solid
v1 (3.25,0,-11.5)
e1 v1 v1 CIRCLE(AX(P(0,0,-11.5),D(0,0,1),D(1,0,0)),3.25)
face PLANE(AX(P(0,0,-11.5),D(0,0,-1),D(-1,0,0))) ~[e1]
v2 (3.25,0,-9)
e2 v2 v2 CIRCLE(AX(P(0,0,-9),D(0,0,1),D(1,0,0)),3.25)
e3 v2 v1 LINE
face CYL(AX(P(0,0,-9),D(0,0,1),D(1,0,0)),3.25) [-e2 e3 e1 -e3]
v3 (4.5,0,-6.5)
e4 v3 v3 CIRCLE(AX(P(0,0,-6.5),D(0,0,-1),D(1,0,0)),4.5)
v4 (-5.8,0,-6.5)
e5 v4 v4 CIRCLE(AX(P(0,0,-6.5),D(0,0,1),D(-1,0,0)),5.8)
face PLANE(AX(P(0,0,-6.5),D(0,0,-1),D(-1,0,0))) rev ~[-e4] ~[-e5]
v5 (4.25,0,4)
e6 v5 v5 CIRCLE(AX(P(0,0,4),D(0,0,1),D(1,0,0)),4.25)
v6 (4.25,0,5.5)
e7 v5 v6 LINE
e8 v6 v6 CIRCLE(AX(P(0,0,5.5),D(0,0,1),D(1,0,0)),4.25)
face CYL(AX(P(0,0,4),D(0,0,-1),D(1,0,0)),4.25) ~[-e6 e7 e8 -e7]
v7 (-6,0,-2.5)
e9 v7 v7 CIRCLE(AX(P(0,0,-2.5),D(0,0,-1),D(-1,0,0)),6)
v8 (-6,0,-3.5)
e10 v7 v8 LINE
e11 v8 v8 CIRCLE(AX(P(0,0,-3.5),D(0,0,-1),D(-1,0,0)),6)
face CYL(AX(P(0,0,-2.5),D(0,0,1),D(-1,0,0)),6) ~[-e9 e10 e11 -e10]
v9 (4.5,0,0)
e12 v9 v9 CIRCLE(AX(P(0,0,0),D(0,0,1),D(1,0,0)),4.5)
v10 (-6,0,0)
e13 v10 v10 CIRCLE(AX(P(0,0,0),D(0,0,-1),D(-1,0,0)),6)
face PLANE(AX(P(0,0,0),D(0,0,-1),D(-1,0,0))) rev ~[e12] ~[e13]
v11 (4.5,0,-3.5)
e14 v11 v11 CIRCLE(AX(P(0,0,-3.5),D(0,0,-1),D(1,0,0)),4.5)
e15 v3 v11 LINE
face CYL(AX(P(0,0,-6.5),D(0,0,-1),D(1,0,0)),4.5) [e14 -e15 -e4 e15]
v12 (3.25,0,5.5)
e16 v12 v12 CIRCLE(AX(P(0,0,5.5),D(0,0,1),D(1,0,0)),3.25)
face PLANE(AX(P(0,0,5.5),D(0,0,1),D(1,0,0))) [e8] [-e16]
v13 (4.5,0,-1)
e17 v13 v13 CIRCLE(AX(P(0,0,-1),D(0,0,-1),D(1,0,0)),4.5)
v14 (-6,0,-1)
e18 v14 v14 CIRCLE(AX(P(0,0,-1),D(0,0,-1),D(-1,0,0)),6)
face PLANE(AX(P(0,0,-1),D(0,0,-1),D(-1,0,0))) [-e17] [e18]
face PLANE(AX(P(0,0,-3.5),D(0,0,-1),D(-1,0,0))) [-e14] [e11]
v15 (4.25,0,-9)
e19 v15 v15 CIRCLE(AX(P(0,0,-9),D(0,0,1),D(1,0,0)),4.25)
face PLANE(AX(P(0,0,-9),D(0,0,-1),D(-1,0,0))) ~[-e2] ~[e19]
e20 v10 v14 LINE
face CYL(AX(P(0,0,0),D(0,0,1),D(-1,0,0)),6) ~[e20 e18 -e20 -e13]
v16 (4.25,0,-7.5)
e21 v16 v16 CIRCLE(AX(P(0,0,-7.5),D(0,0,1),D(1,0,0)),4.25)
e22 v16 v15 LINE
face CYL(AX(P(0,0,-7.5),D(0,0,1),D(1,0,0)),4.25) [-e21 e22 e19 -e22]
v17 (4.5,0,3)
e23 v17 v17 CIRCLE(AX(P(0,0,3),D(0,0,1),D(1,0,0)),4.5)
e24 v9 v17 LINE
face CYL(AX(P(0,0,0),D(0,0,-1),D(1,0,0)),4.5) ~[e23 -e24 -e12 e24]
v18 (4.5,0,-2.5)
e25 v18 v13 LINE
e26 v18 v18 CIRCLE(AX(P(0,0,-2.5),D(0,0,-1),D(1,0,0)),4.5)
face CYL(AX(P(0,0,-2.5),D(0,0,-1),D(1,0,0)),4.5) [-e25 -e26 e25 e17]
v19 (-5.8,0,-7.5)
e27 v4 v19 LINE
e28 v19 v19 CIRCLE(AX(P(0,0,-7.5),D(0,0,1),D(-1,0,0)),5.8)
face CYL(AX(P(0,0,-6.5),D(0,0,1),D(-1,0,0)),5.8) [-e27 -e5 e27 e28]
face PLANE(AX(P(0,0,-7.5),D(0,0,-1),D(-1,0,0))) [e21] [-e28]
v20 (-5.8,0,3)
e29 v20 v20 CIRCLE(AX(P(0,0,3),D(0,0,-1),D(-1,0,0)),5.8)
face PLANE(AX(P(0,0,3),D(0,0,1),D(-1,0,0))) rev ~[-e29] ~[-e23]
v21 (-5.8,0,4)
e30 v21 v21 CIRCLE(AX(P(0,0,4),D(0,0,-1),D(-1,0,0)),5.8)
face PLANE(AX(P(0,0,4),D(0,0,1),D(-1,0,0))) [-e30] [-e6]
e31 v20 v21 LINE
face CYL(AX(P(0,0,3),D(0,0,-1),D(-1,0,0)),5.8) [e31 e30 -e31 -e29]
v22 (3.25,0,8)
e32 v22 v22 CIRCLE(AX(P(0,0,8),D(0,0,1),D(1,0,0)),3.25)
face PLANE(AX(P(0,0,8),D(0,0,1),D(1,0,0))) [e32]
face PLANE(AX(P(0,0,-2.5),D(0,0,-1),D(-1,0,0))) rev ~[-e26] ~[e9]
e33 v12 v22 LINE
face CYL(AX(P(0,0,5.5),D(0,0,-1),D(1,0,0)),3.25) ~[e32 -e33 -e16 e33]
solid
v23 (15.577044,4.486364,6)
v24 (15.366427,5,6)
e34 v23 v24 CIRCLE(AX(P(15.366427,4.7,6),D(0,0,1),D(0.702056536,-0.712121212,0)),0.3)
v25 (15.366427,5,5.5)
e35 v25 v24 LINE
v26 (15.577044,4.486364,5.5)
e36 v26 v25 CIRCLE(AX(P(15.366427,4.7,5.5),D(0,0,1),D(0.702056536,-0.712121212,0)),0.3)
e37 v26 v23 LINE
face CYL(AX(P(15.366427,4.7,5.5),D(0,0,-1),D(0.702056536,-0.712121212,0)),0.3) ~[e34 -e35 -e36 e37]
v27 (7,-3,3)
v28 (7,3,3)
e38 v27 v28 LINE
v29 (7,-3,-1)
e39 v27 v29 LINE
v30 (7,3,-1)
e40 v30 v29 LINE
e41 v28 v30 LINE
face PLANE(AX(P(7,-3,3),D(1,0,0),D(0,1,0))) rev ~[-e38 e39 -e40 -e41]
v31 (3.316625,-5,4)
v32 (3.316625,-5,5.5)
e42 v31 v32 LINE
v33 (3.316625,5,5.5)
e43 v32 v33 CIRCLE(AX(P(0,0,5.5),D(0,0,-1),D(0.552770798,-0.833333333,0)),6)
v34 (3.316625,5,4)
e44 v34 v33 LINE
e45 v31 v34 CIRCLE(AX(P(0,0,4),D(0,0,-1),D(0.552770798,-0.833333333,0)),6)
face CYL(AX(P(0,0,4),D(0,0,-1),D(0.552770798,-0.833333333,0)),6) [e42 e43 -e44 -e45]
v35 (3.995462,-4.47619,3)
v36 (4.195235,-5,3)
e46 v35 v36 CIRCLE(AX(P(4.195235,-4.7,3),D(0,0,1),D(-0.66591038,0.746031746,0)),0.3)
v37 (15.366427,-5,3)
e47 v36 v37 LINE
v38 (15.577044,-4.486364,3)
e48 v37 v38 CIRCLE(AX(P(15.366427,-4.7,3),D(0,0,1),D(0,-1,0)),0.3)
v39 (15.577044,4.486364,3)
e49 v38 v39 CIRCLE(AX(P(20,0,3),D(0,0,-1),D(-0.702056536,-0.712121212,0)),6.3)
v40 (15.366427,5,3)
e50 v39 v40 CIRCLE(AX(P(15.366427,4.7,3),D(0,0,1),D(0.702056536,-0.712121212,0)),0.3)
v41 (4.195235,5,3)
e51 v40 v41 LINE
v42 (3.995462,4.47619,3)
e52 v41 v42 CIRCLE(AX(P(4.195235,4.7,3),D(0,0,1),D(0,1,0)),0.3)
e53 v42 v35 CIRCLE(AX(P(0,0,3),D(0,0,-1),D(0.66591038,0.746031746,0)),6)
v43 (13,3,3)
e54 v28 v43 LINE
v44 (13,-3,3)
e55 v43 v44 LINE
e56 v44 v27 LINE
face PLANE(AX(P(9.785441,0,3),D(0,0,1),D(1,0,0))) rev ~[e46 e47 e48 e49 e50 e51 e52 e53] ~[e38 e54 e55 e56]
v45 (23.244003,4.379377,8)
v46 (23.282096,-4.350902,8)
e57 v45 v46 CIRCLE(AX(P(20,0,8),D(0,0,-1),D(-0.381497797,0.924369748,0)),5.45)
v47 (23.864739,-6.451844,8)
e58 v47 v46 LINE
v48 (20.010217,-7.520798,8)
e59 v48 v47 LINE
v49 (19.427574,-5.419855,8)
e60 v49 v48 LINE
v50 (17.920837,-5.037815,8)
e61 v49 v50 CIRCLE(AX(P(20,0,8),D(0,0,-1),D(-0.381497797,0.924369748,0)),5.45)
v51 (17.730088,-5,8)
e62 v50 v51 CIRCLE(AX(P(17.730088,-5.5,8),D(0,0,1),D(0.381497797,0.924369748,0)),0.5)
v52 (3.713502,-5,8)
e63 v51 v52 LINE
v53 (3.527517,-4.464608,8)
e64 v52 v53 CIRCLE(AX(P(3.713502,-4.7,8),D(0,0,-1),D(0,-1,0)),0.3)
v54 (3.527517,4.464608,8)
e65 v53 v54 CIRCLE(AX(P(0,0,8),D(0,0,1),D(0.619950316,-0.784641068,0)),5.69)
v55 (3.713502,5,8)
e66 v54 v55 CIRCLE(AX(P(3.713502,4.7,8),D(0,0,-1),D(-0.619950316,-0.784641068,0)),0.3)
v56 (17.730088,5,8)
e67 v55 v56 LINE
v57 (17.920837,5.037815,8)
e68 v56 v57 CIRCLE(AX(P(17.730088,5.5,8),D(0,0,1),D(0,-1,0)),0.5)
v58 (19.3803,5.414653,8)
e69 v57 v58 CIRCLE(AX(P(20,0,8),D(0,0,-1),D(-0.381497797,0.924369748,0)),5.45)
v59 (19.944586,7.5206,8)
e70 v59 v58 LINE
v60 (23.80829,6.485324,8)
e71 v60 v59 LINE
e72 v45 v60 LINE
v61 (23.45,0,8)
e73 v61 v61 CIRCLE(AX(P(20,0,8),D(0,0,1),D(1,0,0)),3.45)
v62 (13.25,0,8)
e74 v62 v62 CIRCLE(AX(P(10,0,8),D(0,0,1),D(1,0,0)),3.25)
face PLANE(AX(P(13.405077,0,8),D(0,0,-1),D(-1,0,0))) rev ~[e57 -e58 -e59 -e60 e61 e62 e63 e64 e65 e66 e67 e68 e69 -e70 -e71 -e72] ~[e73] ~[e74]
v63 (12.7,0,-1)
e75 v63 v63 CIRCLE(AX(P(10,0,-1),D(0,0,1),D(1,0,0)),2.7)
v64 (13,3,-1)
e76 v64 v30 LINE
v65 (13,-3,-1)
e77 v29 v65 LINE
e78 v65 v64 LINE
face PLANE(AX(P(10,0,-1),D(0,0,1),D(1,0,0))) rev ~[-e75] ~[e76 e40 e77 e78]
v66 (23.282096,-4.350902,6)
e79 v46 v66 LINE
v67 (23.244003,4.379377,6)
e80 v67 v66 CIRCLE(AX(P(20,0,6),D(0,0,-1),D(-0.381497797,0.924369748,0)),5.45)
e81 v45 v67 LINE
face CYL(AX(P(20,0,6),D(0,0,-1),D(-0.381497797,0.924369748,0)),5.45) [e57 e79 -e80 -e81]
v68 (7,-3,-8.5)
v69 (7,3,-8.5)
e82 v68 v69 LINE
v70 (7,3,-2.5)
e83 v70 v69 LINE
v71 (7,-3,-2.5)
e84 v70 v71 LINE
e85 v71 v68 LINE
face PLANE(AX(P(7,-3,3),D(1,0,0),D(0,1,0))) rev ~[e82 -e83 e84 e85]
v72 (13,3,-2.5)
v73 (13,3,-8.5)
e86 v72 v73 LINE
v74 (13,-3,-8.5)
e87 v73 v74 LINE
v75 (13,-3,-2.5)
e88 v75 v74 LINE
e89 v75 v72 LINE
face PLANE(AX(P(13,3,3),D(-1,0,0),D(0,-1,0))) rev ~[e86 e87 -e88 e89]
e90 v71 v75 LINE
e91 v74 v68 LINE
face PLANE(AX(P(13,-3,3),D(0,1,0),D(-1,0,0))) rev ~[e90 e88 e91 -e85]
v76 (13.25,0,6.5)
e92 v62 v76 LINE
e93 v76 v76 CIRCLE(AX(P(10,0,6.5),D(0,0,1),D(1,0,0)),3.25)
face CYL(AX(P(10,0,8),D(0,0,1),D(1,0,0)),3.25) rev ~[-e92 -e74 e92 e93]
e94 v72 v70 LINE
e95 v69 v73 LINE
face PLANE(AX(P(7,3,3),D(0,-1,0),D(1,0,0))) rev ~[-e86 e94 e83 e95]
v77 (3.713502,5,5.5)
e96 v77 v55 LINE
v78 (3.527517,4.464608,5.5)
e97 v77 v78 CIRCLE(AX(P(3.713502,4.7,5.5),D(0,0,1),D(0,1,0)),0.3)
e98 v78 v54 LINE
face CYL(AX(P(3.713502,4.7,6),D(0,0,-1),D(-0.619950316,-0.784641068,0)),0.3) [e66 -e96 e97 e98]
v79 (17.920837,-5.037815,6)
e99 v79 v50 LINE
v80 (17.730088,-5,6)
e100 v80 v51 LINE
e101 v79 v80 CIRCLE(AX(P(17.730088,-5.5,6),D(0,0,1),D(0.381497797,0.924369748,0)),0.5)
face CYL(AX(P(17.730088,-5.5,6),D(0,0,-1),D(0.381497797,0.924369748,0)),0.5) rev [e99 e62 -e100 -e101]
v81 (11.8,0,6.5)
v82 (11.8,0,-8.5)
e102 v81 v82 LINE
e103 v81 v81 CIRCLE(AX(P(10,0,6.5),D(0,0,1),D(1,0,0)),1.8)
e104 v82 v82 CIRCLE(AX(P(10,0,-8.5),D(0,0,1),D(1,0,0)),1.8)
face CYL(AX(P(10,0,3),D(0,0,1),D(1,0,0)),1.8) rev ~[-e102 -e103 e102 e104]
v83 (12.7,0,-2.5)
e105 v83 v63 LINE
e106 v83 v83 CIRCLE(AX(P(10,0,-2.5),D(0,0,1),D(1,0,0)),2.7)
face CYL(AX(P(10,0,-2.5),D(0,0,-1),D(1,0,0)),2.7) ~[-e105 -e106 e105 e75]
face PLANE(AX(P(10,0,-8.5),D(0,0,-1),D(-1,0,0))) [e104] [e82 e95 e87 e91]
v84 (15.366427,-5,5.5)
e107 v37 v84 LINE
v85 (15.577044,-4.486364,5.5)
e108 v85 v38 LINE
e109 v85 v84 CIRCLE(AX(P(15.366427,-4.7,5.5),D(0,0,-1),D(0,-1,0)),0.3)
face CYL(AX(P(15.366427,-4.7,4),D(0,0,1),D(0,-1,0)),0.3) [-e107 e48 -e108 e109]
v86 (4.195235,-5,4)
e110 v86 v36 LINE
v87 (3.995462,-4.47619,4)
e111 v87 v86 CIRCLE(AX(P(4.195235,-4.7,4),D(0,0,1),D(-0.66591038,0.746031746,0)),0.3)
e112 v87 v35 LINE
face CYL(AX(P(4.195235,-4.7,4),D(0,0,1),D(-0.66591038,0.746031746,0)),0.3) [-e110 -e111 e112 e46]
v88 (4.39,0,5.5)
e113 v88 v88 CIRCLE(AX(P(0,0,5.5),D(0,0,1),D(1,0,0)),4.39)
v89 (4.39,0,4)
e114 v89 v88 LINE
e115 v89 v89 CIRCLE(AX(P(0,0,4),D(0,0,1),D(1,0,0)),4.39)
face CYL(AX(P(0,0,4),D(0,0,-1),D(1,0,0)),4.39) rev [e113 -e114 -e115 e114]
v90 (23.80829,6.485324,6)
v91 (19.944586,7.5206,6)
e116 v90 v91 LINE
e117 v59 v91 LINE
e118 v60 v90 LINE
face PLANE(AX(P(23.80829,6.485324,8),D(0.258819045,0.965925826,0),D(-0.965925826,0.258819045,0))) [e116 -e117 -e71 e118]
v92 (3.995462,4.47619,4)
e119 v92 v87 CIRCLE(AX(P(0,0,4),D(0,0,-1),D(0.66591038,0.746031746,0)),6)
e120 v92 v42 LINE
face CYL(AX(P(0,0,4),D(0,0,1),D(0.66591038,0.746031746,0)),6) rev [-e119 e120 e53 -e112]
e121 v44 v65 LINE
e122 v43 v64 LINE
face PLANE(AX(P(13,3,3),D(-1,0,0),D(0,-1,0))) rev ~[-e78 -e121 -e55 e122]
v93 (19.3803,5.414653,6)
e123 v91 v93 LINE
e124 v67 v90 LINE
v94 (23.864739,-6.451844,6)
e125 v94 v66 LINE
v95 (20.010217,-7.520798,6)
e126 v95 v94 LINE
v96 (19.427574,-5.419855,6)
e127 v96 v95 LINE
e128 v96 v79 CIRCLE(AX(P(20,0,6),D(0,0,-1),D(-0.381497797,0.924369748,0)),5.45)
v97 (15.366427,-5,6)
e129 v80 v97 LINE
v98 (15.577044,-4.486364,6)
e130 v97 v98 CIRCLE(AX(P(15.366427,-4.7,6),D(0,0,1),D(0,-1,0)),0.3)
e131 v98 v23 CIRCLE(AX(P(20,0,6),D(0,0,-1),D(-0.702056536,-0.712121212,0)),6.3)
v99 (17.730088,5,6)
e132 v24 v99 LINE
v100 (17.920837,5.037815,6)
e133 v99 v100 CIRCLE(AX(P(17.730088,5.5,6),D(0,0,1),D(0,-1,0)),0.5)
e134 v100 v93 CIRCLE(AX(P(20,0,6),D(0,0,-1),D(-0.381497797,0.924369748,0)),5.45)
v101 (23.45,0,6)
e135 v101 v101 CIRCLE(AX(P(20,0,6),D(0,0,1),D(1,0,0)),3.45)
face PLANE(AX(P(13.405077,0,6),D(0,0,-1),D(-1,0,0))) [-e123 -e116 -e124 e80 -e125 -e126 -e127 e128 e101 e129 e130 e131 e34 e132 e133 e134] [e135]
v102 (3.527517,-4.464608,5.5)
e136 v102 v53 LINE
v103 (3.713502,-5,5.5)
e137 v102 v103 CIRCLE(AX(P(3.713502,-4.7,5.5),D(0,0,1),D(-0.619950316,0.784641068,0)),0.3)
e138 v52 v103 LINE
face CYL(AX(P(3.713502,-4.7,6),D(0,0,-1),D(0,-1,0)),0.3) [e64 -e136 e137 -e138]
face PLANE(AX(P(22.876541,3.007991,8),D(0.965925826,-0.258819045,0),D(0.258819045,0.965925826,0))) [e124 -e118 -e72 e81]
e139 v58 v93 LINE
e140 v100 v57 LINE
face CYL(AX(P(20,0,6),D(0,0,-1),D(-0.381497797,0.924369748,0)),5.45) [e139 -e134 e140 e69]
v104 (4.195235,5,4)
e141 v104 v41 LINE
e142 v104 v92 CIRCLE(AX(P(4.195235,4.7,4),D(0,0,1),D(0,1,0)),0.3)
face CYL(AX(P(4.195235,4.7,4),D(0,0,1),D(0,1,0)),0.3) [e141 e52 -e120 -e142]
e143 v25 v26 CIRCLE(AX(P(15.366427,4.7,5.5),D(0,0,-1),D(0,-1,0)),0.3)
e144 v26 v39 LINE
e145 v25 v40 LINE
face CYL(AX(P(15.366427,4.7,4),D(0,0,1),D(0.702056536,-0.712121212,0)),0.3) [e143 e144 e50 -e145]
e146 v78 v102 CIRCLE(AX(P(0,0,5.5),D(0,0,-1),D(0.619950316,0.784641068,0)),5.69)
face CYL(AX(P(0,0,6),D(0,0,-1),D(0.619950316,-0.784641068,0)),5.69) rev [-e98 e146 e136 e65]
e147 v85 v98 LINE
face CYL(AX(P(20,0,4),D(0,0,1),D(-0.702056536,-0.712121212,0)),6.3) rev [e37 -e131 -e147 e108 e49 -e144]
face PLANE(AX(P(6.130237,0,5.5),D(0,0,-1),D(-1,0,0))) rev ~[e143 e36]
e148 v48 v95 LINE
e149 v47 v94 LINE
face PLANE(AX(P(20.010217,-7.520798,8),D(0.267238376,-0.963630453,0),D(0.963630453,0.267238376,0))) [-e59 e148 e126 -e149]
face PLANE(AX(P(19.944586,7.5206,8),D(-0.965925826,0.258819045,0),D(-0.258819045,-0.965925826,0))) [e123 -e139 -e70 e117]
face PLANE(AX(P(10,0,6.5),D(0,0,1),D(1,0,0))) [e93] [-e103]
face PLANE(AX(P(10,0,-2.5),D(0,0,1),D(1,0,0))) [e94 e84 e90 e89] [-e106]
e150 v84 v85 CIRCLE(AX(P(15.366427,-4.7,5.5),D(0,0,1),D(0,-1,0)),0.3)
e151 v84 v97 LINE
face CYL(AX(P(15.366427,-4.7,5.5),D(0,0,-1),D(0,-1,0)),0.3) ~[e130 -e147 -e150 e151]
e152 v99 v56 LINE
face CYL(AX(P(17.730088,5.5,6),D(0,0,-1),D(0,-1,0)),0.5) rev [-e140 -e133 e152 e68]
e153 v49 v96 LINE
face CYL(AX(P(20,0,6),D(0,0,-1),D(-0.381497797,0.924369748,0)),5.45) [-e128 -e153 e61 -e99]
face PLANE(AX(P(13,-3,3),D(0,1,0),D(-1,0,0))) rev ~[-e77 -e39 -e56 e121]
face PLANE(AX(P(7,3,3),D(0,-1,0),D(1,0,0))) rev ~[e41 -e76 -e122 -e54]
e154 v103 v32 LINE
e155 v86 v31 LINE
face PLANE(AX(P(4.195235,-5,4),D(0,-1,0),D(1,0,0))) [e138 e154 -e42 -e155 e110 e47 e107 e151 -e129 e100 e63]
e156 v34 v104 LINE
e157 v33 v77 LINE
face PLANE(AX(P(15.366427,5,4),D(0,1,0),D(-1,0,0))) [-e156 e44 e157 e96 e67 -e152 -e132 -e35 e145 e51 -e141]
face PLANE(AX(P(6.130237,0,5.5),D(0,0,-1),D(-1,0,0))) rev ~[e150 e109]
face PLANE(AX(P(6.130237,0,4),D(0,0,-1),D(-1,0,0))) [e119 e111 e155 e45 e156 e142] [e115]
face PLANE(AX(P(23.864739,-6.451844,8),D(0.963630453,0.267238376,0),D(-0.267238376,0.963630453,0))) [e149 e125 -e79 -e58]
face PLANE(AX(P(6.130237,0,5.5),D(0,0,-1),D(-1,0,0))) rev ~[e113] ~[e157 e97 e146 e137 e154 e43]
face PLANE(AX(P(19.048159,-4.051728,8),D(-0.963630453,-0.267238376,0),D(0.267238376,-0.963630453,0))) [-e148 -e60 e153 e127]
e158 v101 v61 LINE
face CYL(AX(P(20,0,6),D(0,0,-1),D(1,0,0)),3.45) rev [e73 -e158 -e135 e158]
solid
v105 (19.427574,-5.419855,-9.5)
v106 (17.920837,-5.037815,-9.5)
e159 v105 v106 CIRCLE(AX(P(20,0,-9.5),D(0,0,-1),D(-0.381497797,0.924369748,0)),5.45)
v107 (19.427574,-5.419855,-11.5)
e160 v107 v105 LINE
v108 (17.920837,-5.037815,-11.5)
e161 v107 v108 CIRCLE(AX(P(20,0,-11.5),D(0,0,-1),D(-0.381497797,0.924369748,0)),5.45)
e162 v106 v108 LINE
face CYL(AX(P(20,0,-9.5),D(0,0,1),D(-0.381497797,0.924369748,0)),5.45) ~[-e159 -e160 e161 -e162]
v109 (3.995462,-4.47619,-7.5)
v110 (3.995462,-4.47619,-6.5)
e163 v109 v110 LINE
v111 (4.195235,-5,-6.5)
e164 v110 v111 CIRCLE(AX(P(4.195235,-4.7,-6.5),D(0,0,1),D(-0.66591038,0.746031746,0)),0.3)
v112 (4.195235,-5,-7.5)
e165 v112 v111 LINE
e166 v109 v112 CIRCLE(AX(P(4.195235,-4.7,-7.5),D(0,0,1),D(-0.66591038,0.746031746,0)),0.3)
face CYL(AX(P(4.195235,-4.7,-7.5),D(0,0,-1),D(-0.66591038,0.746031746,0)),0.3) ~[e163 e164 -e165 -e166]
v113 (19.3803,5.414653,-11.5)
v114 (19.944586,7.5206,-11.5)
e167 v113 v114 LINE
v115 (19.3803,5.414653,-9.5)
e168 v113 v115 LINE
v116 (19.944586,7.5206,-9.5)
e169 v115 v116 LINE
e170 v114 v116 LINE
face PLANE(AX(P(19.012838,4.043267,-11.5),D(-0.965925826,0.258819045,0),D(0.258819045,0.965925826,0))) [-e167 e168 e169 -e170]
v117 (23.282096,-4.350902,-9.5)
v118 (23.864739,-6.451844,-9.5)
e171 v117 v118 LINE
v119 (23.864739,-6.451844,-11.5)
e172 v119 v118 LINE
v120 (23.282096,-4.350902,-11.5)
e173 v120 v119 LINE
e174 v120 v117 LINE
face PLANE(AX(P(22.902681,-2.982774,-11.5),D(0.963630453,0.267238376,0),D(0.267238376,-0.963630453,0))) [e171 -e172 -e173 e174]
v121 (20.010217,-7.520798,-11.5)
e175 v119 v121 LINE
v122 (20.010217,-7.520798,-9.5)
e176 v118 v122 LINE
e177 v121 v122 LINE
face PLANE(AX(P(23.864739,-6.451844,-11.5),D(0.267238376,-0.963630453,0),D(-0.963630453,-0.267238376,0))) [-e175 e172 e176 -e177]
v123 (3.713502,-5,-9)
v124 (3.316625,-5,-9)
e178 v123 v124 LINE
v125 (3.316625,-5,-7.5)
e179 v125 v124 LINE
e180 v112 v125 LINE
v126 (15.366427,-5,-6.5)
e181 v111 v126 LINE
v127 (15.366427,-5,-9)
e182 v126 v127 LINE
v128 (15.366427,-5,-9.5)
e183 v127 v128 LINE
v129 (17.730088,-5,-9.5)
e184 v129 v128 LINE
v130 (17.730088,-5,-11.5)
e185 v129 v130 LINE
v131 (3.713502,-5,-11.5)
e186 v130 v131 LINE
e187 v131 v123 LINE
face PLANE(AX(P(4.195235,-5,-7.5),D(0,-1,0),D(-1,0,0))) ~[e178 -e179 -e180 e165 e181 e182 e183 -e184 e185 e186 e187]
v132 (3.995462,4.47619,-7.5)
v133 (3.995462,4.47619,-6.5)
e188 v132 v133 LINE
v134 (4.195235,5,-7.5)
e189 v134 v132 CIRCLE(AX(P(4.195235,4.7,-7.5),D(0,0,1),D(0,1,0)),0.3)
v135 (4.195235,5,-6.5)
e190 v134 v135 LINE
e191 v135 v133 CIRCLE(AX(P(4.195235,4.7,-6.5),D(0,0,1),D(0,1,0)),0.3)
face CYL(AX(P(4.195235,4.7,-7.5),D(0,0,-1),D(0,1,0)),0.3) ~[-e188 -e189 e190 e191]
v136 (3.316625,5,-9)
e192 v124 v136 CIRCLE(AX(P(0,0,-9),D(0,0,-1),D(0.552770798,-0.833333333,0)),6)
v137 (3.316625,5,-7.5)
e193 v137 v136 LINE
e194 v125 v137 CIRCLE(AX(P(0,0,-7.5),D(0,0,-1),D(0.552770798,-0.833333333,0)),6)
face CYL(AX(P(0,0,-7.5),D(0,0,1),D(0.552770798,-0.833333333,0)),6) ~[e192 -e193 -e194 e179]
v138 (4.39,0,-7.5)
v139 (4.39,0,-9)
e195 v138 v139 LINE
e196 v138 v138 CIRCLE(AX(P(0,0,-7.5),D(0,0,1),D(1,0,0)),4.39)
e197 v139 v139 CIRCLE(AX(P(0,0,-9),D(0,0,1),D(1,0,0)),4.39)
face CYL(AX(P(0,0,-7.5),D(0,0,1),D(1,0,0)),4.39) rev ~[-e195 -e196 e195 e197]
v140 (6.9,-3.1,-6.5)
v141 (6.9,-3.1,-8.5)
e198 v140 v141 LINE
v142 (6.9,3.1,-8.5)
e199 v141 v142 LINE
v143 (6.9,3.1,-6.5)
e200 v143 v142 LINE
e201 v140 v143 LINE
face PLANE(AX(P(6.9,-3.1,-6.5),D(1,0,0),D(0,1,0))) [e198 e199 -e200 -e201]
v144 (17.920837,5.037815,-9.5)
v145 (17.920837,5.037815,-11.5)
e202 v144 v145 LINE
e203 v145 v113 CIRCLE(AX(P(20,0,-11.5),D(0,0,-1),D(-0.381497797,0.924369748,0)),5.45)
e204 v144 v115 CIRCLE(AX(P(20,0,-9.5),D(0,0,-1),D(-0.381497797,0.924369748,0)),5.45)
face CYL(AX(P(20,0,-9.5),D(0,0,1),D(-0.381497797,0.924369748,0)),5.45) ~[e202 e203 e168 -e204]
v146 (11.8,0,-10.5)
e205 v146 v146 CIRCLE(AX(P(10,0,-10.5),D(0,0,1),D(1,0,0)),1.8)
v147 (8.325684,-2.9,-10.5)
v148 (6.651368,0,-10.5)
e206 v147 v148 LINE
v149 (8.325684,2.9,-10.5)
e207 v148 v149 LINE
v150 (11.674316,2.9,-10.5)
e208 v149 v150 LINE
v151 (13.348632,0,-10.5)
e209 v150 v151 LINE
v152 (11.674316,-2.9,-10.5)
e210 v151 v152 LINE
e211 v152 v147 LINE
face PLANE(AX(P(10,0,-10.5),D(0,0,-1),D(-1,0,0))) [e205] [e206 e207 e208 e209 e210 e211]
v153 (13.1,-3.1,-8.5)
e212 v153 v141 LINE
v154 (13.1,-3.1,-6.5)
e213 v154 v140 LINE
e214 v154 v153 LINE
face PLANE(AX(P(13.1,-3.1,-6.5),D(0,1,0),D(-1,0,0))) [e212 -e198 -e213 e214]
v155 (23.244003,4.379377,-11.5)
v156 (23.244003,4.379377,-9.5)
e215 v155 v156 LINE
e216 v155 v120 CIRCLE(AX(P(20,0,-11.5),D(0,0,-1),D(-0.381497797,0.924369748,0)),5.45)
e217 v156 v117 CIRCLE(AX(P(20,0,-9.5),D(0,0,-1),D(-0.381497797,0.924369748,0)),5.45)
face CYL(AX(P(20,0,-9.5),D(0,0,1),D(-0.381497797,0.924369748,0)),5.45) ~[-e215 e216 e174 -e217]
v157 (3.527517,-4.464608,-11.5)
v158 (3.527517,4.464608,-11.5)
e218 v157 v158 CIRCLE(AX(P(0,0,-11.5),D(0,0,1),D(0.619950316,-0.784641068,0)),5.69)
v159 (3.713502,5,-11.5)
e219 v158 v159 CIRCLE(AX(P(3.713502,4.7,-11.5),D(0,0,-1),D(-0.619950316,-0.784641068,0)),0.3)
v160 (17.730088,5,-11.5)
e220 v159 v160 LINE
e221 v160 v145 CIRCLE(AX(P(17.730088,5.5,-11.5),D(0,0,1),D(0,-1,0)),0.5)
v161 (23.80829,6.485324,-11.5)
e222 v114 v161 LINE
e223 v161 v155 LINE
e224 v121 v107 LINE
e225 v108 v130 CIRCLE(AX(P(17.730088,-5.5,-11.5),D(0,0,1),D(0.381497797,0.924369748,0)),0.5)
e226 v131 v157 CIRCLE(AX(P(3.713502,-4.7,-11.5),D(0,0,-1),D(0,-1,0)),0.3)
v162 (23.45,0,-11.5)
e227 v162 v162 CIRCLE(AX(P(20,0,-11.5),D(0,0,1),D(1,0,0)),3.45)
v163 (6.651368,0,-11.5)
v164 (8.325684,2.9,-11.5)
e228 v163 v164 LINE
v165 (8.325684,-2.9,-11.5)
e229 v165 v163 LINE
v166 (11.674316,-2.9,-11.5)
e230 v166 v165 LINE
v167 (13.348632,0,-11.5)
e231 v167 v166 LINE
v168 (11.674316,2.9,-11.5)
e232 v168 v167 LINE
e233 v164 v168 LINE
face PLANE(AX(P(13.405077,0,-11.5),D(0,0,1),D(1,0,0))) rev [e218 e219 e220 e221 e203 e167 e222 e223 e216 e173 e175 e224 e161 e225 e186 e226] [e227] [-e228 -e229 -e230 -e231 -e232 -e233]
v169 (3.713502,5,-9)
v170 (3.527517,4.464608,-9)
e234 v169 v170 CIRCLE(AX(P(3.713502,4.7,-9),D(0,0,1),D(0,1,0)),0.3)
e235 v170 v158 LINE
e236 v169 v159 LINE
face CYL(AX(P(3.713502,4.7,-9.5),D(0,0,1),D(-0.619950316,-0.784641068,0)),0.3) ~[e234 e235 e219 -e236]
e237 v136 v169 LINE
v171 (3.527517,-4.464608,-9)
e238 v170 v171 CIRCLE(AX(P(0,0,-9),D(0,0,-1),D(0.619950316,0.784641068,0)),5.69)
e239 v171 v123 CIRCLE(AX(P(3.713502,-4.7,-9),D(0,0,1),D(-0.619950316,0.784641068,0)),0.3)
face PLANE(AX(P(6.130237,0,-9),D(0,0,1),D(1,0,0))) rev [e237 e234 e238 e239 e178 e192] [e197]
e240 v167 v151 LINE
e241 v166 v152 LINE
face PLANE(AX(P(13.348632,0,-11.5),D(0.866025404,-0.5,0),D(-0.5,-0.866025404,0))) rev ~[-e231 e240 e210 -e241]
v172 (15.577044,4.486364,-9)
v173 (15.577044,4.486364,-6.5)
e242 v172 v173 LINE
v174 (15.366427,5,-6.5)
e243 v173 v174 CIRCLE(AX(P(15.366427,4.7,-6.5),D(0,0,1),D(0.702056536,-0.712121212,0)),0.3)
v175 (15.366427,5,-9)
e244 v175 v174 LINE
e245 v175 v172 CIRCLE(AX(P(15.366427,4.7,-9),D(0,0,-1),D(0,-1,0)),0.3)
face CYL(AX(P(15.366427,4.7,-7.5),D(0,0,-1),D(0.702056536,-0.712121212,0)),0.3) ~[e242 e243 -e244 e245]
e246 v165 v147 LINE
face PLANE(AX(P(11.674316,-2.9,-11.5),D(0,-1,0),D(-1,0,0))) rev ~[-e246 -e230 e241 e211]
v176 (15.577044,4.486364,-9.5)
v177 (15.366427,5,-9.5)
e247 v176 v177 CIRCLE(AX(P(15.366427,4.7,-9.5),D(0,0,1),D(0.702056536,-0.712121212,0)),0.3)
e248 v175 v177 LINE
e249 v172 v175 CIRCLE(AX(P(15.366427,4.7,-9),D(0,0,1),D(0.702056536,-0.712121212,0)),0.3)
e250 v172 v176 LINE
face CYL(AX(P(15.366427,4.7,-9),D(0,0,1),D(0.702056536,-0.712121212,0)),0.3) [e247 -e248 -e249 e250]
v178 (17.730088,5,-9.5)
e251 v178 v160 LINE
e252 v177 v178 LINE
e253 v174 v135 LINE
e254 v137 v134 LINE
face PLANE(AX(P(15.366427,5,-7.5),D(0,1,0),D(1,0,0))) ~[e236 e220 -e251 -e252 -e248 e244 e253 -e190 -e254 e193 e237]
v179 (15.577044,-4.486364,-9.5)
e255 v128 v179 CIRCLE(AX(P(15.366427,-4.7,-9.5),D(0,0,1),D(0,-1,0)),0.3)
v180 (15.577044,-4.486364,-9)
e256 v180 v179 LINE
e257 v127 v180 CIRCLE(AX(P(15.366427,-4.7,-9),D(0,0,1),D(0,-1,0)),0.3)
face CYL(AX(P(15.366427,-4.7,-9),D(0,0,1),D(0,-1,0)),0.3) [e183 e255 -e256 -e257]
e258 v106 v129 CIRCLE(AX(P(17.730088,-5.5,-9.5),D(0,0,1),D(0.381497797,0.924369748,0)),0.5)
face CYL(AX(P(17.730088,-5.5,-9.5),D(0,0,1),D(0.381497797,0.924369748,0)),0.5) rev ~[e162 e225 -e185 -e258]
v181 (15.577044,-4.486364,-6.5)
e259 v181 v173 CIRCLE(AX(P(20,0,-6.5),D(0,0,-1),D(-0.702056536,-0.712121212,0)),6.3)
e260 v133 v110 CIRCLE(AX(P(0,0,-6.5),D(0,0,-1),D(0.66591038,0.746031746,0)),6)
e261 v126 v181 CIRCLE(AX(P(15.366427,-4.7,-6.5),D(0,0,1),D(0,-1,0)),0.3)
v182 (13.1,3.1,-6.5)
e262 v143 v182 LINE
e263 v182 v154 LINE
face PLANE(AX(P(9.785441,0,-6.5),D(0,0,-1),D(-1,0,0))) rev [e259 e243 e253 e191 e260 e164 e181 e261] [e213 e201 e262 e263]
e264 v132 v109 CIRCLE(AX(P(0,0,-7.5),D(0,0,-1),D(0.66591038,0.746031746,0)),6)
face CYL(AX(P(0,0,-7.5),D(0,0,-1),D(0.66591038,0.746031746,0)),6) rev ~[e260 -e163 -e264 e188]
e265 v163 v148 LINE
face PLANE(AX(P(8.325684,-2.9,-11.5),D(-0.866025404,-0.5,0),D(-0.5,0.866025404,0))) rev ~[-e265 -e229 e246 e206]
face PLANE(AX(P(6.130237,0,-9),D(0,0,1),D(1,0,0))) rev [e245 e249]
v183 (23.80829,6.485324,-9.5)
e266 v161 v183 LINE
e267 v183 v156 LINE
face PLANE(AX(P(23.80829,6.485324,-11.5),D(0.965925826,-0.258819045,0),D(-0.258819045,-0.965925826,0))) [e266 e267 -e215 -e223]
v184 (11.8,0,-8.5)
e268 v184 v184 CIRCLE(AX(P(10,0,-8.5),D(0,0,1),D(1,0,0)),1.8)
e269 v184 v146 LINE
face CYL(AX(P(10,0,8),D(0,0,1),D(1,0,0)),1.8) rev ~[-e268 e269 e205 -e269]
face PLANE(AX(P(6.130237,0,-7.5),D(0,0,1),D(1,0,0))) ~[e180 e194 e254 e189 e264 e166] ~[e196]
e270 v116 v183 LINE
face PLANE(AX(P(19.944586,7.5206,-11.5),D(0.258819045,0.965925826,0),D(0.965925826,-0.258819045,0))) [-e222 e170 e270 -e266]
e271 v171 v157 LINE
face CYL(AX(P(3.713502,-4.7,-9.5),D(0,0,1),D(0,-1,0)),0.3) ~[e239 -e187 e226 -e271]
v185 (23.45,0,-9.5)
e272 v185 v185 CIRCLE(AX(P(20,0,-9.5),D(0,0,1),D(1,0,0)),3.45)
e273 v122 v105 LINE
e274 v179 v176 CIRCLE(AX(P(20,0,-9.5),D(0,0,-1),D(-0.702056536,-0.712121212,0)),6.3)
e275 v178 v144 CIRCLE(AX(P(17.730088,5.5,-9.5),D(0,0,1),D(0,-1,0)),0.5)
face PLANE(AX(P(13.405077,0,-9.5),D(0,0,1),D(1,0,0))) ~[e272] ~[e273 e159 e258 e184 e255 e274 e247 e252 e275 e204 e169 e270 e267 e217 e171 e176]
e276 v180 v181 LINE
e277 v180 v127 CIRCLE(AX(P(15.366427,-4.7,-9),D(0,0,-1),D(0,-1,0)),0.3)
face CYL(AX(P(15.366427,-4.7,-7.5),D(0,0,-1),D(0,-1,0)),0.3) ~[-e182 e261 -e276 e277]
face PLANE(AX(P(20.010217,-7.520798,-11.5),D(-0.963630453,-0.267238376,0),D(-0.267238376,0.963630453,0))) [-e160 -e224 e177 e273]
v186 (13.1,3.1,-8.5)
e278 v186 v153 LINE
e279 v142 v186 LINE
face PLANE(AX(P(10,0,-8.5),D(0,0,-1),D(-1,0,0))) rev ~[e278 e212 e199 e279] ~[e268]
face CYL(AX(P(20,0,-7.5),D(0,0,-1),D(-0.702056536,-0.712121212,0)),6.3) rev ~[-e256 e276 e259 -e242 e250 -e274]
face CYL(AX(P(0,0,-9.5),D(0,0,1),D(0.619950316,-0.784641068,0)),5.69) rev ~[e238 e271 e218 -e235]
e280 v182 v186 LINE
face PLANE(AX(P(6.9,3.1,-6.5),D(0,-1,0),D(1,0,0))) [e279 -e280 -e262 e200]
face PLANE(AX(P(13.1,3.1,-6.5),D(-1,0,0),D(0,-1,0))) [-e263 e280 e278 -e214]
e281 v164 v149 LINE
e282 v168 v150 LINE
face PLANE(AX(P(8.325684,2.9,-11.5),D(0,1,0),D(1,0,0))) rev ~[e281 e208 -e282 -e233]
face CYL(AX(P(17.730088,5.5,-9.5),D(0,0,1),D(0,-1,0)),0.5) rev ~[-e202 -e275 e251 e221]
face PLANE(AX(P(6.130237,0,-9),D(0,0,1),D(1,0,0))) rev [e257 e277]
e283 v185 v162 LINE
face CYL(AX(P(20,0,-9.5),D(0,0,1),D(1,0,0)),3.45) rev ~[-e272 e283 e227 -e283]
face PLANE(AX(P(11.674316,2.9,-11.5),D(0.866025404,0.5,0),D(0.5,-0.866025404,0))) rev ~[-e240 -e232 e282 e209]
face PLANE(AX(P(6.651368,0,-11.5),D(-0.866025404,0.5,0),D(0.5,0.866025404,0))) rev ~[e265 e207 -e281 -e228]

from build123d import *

# Parameters (mm, degrees)
SKETCH_1_R               = 4.5
EXTRUDE_1_DEPTH          = 3
SKETCH_2_R               = 6
EXTRUDE_2_DEPTH          = 1
EXTRUDE_START            = 1.5
SKETCH_3_R               = 4.5
EXTRUDE_3_DEPTH          = 1.5
SKETCH_4_R               = 6.000000000000001
EXTRUDE_4_DEPTH          = 1
EXTRUDE_START_2          = 3
SKETCH_5_R               = 4.5
EXTRUDE_5_DEPTH          = 3
SKETCH_6_R               = 6.000000000000001
EXTRUDE_6_DEPTH          = 1
EXTRUDE_START_3          = 1
SKETCH_7_R               = 6.000000000000001
EXTRUDE_7_DEPTH          = 1
SKETCH_10_R              = 4.25
EXTRUDE_10_DEPTH         = 1.5
SKETCH_11_R              = 3.25
EXTRUDE_11_DEPTH         = 2.5
SKETCH_12_R              = 4.390000000000002
EXTRUDE_12_DEPTH         = 1.5
EXTRUDE_13_DEPTH         = 0.5
FILLET_9_R               = 0.3
SKETCH_14_R              = 3.450000000000003
EXTRUDE_14_DEPTH         = 2
EXTRUDE_15_DEPTH         = 1
SKETCH_16_R              = 1.799999999999999
CUT_EXTRUDE_1_DEPTH      = 33.61828474950821
CUT_EXTRUDE_2_DEPTH      = 2
EXTRUDE_16_DEPTH         = 11.5
SKETCH_19_R              = 1.799999999999999
CUT_EXTRUDE_3_DEPTH      = 30.89903844607716
CUT_EXTRUDE_4_DEPTH      = 0.75
CUT_EXTRUDE_4_DEPTH_BACK = 0.75
SKETCH_20_R              = 2.6999999999999993
SKETCH_21_R              = 3.2500000000000027
CUT_EXTRUDE_5_DEPTH      = 1.5
CUT_EXTRUDE_6_DEPTH      = 1
EXTRUDE_17_DEPTH         = 2
EXTRUDE_18_DEPTH         = 2
SKETCH_26_R              = 6.000000000000001
SKETCH_26_R_2            = 5.800000000000002
CUT_EXTRUDE_8_DEPTH      = 31.24094733315028
SKETCH_27_R              = 6.000000000000001
SKETCH_27_R_2            = 5.8000000000000025
CUT_EXTRUDE_9_DEPTH      = 31.24094733315028


with BuildPart() as part:
    # ｽｹｯﾁ1 → ﾎﾞｽ - 押し出し1 (new body)
    with BuildSketch(Plane.XY):
        Circle(SKETCH_1_R)
    extrude(amount=EXTRUDE_1_DEPTH)

    # ｽｹｯﾁ2 → ﾎﾞｽ - 押し出し2 (add)
    with BuildSketch(Plane(origin=(0, 0, 0), x_dir=(-1, 0, 0), z_dir=(0, 0, -1))):
        Circle(SKETCH_2_R)
    extrude(amount=EXTRUDE_2_DEPTH)

    # ｽｹｯﾁ3 → ﾎﾞｽ - 押し出し3 (add)
    with BuildSketch(Plane(origin=(0, 0, -1), x_dir=(-1, 0, 0), z_dir=(0, 0, -1)).offset(EXTRUDE_START)):
        with Locations(Location((0, 0, 0), (0, 0, 180))):
            Circle(SKETCH_3_R)
    extrude(amount=-EXTRUDE_3_DEPTH)

    # ｽｹｯﾁ4 → ﾎﾞｽ - 押し出し4 (add)
    with BuildSketch(Plane(origin=(0, 0, -2.5), x_dir=(-1, 0, 0), z_dir=(0, 0, -1))):
        Circle(SKETCH_4_R)
    extrude(amount=EXTRUDE_4_DEPTH)

    # ｽｹｯﾁ5 → ﾎﾞｽ - 押し出し5 (add)
    with BuildSketch(Plane(origin=(0, 0, -3.5), x_dir=(-1, 0, 0), z_dir=(0, 0, -1)).offset(EXTRUDE_START_2)):
        with Locations(Location((0, 0, 0), (0, 0, 180))):
            Circle(SKETCH_5_R)
    extrude(amount=-EXTRUDE_5_DEPTH)

    # ｽｹｯﾁ6 → ﾎﾞｽ - 押し出し6 (add)
    with BuildSketch(Plane(origin=(0, 0, -6.500000000000001), x_dir=(-1, 0, 0), z_dir=(0, 0, -1))):
        Circle(SKETCH_6_R)
    extrude(amount=EXTRUDE_6_DEPTH)

    # ｽｹｯﾁ7 → ﾎﾞｽ - 押し出し7 (add)
    with BuildSketch(Plane.XY.offset(3).offset(EXTRUDE_START_3)):
        with Locations(Location((0, 0, 0), (0, 0, 180))):
            Circle(SKETCH_7_R)
    extrude(amount=-EXTRUDE_7_DEPTH)

    # ｽｹｯﾁ10 → ﾎﾞｽ - 押し出し10 (add)
    with BuildSketch(Plane.XY.offset(4)):
        Circle(SKETCH_10_R)
    extrude_10 = extrude(amount=EXTRUDE_10_DEPTH)

    # ｽｹｯﾁ11 → ﾎﾞｽ - 押し出し11 (add)
    with BuildSketch(Plane.XY.offset(5.5)):
        Circle(SKETCH_11_R)
    extrude_11 = extrude(amount=EXTRUDE_11_DEPTH)

    # ﾐﾗｰ1: ﾎﾞｽ - 押し出し10, ﾎﾞｽ - 押し出し11 across plane
    add(extrude_10.mirror(Plane.XY.offset(-1.7500000000000002)))
    add(extrude_11.mirror(Plane.XY.offset(-1.7500000000000002)))

    # ｽｹｯﾁ26 → ｶｯﾄ - 押し出し8 (cut, through all)
    with BuildSketch(Plane(origin=(0, 0, 3), x_dir=(-1, 0, 0), z_dir=(0, 0, -1))):
        Circle(SKETCH_26_R)
        Circle(SKETCH_26_R_2, mode=Mode.SUBTRACT)
    extrude(amount=-CUT_EXTRUDE_8_DEPTH, mode=Mode.SUBTRACT)

    # ｽｹｯﾁ27 → ｶｯﾄ - 押し出し9 (cut, through all)
    with BuildSketch(Plane.XY.offset(-6.500000000000001)):
        with Locations(Location((0, 0, 0), (0, 0, 180))):
            Circle(SKETCH_27_R)
        with Locations(Location((0, 0, 0), (0, 0, 180))):
            Circle(SKETCH_27_R_2, mode=Mode.SUBTRACT)
    extrude(amount=-CUT_EXTRUDE_9_DEPTH, mode=Mode.SUBTRACT)


with BuildPart() as body_2:
    # ｽｹｯﾁ12 → ﾎﾞｽ - 押し出し12 (new body)
    with BuildSketch(Plane.XY.offset(4)):
        with BuildLine():
            Line((3.3166247903554016, 5), (16.167246420652642, 5))
            ThreePointArc((16.167246420652642, 5), (13.700000000000001, 3.57e-15), (16.16724642065264, -5))
            Line((16.16724642065264, -5), (3.3166247903553985, -5.000000000000003))
            ThreePointArc((3.3166247903553985, -5.000000000000003), (-6.000000000000001, 7.3e-16), (3.3166247903554016, 5))
        make_face()
        Circle(SKETCH_12_R, mode=Mode.SUBTRACT)
    extrude(amount=EXTRUDE_12_DEPTH)

    # ｽｹｯﾁ13 → ﾎﾞｽ - 押し出し13 (add)
    with BuildSketch(Plane.XY.offset(5.5)):
        with BuildLine():
            Line((15.366426864718767, 5.000000000000001), (3.71350238992787, 4.999999999999999))
            ThreePointArc((3.71350238992787, 4.999999999999999), (3.4301142319534543, 4.798443648448575), (3.5275172952737197, 4.464607679465777))
            ThreePointArc((3.5275172952737197, 4.464607679465777), (5.69, 3.16e-15), (3.527517295273725, -4.464607679465773))
            ThreePointArc((3.527517295273725, -4.464607679465773), (3.4301142319534588, -4.798443648448569), (3.713502389927875, -4.9999999999999964))
            Line((3.713502389927875, -4.9999999999999964), (15.366426864718758, -4.999999999999996))
            ThreePointArc((15.366426864718758, -4.999999999999996), (15.643997494550977, -4.813818036595895), (15.57704382541336, -4.486363636363631))
            ThreePointArc((15.57704382541336, -4.486363636363631), (13.7, 6.37e-15), (15.577043825413366, 4.486363636363639))
            ThreePointArc((15.577043825413366, 4.486363636363639), (15.643997494550984, 4.813818036595901), (15.366426864718767, 5.000000000000001))
        make_face()
    extrude(amount=EXTRUDE_13_DEPTH)

    # ﾌｨﾚｯﾄ9
    fillet_9_edges = [body_2.edges().sort_by_distance(p)[0] for p in [
        (16.16724642065264, -5.000000000000001, 4.75),
        (16.167246420652642, 5, 4.75),
    ]]
    fillet(fillet_9_edges, radius=FILLET_9_R)

    # ｽｹｯﾁ14 → ﾎﾞｽ - 押し出し14 (add)
    with BuildSketch(Plane.XY.offset(6)):
        with BuildLine():
            Line((3.71350238992787, 5), (17.73008810743677, 5))
            ThreePointArc((17.73008810743677, 5), (17.827318665969592, 5.00954488636839), (17.920837005971492, 5.03781512605042))
            ThreePointArc((17.920837005971492, 5.03781512605042), (25.45, 2.42e-15), (17.920837005971496, -5.037815126050422))
            ThreePointArc((17.920837005971496, -5.037815126050422), (17.827318665969596, -5.009544886368393), (17.730088107436774, -5.000000000000003))
            Line((17.730088107436774, -5.000000000000003), (3.713502389927875, -5.000000000000003))
            ThreePointArc((3.713502389927875, -5.000000000000003), (3.430114231953458, -4.79844364844857), (3.5275172952737246, -4.4646076794657725))
            ThreePointArc((3.5275172952737246, -4.4646076794657725), (5.69, 3.16e-15), (3.52751729527372, 4.464607679465777))
            ThreePointArc((3.52751729527372, 4.464607679465777), (3.4301142319534534, 4.798443648448575), (3.71350238992787, 5))
        make_face()
        with Locations((20, 0)):
            Circle(SKETCH_14_R, mode=Mode.SUBTRACT)
    extrude(amount=EXTRUDE_14_DEPTH)

    # ｽｹｯﾁ15 → ﾎﾞｽ - 押し出し15 (add)
    with BuildSketch(Plane(origin=(0, 0, 4), x_dir=(-1, 0, 0), z_dir=(0, 0, -1))):
        with BuildLine():
            Line((-15.366426864718765, 5), (-4.195235392680607, 5.000000000000001))
            ThreePointArc((-4.195235392680607, 5.000000000000001), (-3.9149294373899135, 4.806904496764971), (-3.9954622787434353, 4.476190476190477))
            ThreePointArc((-3.9954622787434353, 4.476190476190477), (-6.000000000000001, 7.3e-16), (-3.9954622787434353, -4.476190476190477))
            ThreePointArc((-3.9954622787434353, -4.476190476190477), (-3.9149294373899135, -4.806904496764971), (-4.195235392680607, -5.000000000000001))
            Line((-4.195235392680607, -5.000000000000001), (-15.366426864718763, -5))
            ThreePointArc((-15.366426864718763, -5), (-15.643997494550984, -4.813818036595896), (-15.577043825413359, -4.48636363636363))
            ThreePointArc((-15.577043825413359, -4.48636363636363), (-13.700000000000001, 4.2e-15), (-15.577043825413364, 4.486363636363636))
            ThreePointArc((-15.577043825413364, 4.486363636363636), (-15.643997494550984, 4.813818036595898), (-15.366426864718765, 5))
        make_face()
    extrude(amount=EXTRUDE_15_DEPTH)


with BuildPart() as body_3:
    # ﾐﾗｰ2: mirrored copy
    add(body_2.part.mirror(Plane.XY.offset(-1.7500000000000002)))


with BuildPart() as cut_extrude_1_tool:
    # ｽｹｯﾁ16 → ｶｯﾄ - 押し出し1 (new, through all)
    with BuildSketch(Plane.XY.offset(8)):
        with Locations((10, 0)):
            Circle(SKETCH_16_R)
    extrude(amount=-CUT_EXTRUDE_1_DEPTH)


with BuildPart() as body_2_1:
    add(body_2.part)

    # ｶｯﾄ - 押し出し1: cut by cut_extrude_1_tool
    add(cut_extrude_1_tool.part, mode=Mode.SUBTRACT)

    # ｽｹｯﾁ18 → ﾎﾞｽ - 押し出し16 (add)
    with BuildSketch(Plane(origin=(0, 0, 3), x_dir=(-1, 0, 0), z_dir=(0, 0, -1))):
        Polygon((-7.000000000000002, 2.9999999999999996), (-13.000000000000002, 2.9999999999999987), (-13.000000000000002, -2.9999999999999996), (-7.000000000000002, -2.999999999999999), align=None)
    extrude(amount=EXTRUDE_16_DEPTH)

    # ｽｹｯﾁ19 → ｶｯﾄ - 押し出し3 (cut, through all)
    with BuildSketch(Plane.XY.offset(3)):
        with Locations((10, 0)):
            Circle(SKETCH_19_R)
    extrude(amount=-CUT_EXTRUDE_3_DEPTH, mode=Mode.SUBTRACT)

    # ｽｹｯﾁ20 → ｶｯﾄ - 押し出し4 (cut, two sides: drawn at the far end of the back side and taken through both)
    with BuildSketch(Plane.XY.offset(-1.7500000000000002).offset(-CUT_EXTRUDE_4_DEPTH_BACK)):
        Polygon((13.000000000000002, 2.9999999999999987), (7.000000000000002, 2.9999999999999996), (7.000000000000002, -2.999999999999999), (13.000000000000002, -2.9999999999999996), align=None)
        with Locations((10, 0)):
            Circle(SKETCH_20_R, mode=Mode.SUBTRACT)
    extrude(amount=CUT_EXTRUDE_4_DEPTH + CUT_EXTRUDE_4_DEPTH_BACK, mode=Mode.SUBTRACT)

    # ｽｹｯﾁ21 → ｶｯﾄ - 押し出し5 (cut)
    with BuildSketch(Plane.XY.offset(8)):
        with Locations((10, 0)):
            Circle(SKETCH_21_R)
    extrude(amount=-CUT_EXTRUDE_5_DEPTH, mode=Mode.SUBTRACT)

    # ｽｹｯﾁ23 → ﾎﾞｽ - 押し出し17 (add)
    with BuildSketch(Plane.XY.offset(8)):
        Polygon((19.012837862046062, 4.043267356160144), (22.87654116720234, 3.0079911757500586), (23.808289729571413, 6.485324150390705), (19.94458642441514, 7.520600330800791), align=None)
        Polygon((20.010217320150122, -7.52079753791903), (23.864739132984617, -6.451844033605999), (22.902680979102882, -2.9827744020549556), (19.04815916626839, -4.051727906367987), align=None)
    extrude(amount=-EXTRUDE_17_DEPTH)


with BuildPart() as body_3_1:
    add(body_3.part)

    # ｶｯﾄ - 押し出し1: cut by cut_extrude_1_tool
    add(cut_extrude_1_tool.part, mode=Mode.SUBTRACT)

    # ｽｹｯﾁ17 → ｶｯﾄ - 押し出し2 (cut)
    with BuildSketch(Plane.XY.offset(-6.500000000000001)):
        Polygon((13.100000000000001, -3.0999999999999996), (6.900000000000001, -3.1000000000000005), (6.900000000000001, 3.0999999999999996), (13.100000000000001, 3.1000000000000005), align=None)
    extrude(amount=-CUT_EXTRUDE_2_DEPTH, mode=Mode.SUBTRACT)

    # ｽｹｯﾁ22 → ｶｯﾄ - 押し出し6 (cut)
    with BuildSketch(Plane(origin=(0, 0, -11.5), x_dir=(-1, 0, 0), z_dir=(0, 0, -1))):
        Polygon((-11.674315780649914, 2.8999999999999995), (-13.348631561299829, 1e-17), (-11.674315780649913, -2.900000000000001), (-8.325684219350087, -2.9000000000000004), (-6.651368438700171, -8.7e-16), (-8.325684219350087, 2.9), align=None)
    extrude(amount=-CUT_EXTRUDE_6_DEPTH, mode=Mode.SUBTRACT)

    # ｽｹｯﾁ24 → ﾎﾞｽ - 押し出し18 (add)
    with BuildSketch(Plane(origin=(0, 0, -11.5), x_dir=(-1, 0, 0), z_dir=(0, 0, -1))):
        Polygon((-22.87654116720234, 3.0079911757500586), (-19.012837862046062, 4.043267356160144), (-19.94458642441514, 7.520600330800791), (-23.808289729571413, 6.485324150390705), align=None)
        Polygon((-23.864739132984617, -6.451844033605999), (-20.010217320150122, -7.52079753791903), (-19.04815916626839, -4.051727906367987), (-22.902680979102882, -2.9827744020549556), align=None)
    extrude(amount=-EXTRUDE_18_DEPTH)


solid = Compound([part.part, body_2_1.part, body_3_1.part])
